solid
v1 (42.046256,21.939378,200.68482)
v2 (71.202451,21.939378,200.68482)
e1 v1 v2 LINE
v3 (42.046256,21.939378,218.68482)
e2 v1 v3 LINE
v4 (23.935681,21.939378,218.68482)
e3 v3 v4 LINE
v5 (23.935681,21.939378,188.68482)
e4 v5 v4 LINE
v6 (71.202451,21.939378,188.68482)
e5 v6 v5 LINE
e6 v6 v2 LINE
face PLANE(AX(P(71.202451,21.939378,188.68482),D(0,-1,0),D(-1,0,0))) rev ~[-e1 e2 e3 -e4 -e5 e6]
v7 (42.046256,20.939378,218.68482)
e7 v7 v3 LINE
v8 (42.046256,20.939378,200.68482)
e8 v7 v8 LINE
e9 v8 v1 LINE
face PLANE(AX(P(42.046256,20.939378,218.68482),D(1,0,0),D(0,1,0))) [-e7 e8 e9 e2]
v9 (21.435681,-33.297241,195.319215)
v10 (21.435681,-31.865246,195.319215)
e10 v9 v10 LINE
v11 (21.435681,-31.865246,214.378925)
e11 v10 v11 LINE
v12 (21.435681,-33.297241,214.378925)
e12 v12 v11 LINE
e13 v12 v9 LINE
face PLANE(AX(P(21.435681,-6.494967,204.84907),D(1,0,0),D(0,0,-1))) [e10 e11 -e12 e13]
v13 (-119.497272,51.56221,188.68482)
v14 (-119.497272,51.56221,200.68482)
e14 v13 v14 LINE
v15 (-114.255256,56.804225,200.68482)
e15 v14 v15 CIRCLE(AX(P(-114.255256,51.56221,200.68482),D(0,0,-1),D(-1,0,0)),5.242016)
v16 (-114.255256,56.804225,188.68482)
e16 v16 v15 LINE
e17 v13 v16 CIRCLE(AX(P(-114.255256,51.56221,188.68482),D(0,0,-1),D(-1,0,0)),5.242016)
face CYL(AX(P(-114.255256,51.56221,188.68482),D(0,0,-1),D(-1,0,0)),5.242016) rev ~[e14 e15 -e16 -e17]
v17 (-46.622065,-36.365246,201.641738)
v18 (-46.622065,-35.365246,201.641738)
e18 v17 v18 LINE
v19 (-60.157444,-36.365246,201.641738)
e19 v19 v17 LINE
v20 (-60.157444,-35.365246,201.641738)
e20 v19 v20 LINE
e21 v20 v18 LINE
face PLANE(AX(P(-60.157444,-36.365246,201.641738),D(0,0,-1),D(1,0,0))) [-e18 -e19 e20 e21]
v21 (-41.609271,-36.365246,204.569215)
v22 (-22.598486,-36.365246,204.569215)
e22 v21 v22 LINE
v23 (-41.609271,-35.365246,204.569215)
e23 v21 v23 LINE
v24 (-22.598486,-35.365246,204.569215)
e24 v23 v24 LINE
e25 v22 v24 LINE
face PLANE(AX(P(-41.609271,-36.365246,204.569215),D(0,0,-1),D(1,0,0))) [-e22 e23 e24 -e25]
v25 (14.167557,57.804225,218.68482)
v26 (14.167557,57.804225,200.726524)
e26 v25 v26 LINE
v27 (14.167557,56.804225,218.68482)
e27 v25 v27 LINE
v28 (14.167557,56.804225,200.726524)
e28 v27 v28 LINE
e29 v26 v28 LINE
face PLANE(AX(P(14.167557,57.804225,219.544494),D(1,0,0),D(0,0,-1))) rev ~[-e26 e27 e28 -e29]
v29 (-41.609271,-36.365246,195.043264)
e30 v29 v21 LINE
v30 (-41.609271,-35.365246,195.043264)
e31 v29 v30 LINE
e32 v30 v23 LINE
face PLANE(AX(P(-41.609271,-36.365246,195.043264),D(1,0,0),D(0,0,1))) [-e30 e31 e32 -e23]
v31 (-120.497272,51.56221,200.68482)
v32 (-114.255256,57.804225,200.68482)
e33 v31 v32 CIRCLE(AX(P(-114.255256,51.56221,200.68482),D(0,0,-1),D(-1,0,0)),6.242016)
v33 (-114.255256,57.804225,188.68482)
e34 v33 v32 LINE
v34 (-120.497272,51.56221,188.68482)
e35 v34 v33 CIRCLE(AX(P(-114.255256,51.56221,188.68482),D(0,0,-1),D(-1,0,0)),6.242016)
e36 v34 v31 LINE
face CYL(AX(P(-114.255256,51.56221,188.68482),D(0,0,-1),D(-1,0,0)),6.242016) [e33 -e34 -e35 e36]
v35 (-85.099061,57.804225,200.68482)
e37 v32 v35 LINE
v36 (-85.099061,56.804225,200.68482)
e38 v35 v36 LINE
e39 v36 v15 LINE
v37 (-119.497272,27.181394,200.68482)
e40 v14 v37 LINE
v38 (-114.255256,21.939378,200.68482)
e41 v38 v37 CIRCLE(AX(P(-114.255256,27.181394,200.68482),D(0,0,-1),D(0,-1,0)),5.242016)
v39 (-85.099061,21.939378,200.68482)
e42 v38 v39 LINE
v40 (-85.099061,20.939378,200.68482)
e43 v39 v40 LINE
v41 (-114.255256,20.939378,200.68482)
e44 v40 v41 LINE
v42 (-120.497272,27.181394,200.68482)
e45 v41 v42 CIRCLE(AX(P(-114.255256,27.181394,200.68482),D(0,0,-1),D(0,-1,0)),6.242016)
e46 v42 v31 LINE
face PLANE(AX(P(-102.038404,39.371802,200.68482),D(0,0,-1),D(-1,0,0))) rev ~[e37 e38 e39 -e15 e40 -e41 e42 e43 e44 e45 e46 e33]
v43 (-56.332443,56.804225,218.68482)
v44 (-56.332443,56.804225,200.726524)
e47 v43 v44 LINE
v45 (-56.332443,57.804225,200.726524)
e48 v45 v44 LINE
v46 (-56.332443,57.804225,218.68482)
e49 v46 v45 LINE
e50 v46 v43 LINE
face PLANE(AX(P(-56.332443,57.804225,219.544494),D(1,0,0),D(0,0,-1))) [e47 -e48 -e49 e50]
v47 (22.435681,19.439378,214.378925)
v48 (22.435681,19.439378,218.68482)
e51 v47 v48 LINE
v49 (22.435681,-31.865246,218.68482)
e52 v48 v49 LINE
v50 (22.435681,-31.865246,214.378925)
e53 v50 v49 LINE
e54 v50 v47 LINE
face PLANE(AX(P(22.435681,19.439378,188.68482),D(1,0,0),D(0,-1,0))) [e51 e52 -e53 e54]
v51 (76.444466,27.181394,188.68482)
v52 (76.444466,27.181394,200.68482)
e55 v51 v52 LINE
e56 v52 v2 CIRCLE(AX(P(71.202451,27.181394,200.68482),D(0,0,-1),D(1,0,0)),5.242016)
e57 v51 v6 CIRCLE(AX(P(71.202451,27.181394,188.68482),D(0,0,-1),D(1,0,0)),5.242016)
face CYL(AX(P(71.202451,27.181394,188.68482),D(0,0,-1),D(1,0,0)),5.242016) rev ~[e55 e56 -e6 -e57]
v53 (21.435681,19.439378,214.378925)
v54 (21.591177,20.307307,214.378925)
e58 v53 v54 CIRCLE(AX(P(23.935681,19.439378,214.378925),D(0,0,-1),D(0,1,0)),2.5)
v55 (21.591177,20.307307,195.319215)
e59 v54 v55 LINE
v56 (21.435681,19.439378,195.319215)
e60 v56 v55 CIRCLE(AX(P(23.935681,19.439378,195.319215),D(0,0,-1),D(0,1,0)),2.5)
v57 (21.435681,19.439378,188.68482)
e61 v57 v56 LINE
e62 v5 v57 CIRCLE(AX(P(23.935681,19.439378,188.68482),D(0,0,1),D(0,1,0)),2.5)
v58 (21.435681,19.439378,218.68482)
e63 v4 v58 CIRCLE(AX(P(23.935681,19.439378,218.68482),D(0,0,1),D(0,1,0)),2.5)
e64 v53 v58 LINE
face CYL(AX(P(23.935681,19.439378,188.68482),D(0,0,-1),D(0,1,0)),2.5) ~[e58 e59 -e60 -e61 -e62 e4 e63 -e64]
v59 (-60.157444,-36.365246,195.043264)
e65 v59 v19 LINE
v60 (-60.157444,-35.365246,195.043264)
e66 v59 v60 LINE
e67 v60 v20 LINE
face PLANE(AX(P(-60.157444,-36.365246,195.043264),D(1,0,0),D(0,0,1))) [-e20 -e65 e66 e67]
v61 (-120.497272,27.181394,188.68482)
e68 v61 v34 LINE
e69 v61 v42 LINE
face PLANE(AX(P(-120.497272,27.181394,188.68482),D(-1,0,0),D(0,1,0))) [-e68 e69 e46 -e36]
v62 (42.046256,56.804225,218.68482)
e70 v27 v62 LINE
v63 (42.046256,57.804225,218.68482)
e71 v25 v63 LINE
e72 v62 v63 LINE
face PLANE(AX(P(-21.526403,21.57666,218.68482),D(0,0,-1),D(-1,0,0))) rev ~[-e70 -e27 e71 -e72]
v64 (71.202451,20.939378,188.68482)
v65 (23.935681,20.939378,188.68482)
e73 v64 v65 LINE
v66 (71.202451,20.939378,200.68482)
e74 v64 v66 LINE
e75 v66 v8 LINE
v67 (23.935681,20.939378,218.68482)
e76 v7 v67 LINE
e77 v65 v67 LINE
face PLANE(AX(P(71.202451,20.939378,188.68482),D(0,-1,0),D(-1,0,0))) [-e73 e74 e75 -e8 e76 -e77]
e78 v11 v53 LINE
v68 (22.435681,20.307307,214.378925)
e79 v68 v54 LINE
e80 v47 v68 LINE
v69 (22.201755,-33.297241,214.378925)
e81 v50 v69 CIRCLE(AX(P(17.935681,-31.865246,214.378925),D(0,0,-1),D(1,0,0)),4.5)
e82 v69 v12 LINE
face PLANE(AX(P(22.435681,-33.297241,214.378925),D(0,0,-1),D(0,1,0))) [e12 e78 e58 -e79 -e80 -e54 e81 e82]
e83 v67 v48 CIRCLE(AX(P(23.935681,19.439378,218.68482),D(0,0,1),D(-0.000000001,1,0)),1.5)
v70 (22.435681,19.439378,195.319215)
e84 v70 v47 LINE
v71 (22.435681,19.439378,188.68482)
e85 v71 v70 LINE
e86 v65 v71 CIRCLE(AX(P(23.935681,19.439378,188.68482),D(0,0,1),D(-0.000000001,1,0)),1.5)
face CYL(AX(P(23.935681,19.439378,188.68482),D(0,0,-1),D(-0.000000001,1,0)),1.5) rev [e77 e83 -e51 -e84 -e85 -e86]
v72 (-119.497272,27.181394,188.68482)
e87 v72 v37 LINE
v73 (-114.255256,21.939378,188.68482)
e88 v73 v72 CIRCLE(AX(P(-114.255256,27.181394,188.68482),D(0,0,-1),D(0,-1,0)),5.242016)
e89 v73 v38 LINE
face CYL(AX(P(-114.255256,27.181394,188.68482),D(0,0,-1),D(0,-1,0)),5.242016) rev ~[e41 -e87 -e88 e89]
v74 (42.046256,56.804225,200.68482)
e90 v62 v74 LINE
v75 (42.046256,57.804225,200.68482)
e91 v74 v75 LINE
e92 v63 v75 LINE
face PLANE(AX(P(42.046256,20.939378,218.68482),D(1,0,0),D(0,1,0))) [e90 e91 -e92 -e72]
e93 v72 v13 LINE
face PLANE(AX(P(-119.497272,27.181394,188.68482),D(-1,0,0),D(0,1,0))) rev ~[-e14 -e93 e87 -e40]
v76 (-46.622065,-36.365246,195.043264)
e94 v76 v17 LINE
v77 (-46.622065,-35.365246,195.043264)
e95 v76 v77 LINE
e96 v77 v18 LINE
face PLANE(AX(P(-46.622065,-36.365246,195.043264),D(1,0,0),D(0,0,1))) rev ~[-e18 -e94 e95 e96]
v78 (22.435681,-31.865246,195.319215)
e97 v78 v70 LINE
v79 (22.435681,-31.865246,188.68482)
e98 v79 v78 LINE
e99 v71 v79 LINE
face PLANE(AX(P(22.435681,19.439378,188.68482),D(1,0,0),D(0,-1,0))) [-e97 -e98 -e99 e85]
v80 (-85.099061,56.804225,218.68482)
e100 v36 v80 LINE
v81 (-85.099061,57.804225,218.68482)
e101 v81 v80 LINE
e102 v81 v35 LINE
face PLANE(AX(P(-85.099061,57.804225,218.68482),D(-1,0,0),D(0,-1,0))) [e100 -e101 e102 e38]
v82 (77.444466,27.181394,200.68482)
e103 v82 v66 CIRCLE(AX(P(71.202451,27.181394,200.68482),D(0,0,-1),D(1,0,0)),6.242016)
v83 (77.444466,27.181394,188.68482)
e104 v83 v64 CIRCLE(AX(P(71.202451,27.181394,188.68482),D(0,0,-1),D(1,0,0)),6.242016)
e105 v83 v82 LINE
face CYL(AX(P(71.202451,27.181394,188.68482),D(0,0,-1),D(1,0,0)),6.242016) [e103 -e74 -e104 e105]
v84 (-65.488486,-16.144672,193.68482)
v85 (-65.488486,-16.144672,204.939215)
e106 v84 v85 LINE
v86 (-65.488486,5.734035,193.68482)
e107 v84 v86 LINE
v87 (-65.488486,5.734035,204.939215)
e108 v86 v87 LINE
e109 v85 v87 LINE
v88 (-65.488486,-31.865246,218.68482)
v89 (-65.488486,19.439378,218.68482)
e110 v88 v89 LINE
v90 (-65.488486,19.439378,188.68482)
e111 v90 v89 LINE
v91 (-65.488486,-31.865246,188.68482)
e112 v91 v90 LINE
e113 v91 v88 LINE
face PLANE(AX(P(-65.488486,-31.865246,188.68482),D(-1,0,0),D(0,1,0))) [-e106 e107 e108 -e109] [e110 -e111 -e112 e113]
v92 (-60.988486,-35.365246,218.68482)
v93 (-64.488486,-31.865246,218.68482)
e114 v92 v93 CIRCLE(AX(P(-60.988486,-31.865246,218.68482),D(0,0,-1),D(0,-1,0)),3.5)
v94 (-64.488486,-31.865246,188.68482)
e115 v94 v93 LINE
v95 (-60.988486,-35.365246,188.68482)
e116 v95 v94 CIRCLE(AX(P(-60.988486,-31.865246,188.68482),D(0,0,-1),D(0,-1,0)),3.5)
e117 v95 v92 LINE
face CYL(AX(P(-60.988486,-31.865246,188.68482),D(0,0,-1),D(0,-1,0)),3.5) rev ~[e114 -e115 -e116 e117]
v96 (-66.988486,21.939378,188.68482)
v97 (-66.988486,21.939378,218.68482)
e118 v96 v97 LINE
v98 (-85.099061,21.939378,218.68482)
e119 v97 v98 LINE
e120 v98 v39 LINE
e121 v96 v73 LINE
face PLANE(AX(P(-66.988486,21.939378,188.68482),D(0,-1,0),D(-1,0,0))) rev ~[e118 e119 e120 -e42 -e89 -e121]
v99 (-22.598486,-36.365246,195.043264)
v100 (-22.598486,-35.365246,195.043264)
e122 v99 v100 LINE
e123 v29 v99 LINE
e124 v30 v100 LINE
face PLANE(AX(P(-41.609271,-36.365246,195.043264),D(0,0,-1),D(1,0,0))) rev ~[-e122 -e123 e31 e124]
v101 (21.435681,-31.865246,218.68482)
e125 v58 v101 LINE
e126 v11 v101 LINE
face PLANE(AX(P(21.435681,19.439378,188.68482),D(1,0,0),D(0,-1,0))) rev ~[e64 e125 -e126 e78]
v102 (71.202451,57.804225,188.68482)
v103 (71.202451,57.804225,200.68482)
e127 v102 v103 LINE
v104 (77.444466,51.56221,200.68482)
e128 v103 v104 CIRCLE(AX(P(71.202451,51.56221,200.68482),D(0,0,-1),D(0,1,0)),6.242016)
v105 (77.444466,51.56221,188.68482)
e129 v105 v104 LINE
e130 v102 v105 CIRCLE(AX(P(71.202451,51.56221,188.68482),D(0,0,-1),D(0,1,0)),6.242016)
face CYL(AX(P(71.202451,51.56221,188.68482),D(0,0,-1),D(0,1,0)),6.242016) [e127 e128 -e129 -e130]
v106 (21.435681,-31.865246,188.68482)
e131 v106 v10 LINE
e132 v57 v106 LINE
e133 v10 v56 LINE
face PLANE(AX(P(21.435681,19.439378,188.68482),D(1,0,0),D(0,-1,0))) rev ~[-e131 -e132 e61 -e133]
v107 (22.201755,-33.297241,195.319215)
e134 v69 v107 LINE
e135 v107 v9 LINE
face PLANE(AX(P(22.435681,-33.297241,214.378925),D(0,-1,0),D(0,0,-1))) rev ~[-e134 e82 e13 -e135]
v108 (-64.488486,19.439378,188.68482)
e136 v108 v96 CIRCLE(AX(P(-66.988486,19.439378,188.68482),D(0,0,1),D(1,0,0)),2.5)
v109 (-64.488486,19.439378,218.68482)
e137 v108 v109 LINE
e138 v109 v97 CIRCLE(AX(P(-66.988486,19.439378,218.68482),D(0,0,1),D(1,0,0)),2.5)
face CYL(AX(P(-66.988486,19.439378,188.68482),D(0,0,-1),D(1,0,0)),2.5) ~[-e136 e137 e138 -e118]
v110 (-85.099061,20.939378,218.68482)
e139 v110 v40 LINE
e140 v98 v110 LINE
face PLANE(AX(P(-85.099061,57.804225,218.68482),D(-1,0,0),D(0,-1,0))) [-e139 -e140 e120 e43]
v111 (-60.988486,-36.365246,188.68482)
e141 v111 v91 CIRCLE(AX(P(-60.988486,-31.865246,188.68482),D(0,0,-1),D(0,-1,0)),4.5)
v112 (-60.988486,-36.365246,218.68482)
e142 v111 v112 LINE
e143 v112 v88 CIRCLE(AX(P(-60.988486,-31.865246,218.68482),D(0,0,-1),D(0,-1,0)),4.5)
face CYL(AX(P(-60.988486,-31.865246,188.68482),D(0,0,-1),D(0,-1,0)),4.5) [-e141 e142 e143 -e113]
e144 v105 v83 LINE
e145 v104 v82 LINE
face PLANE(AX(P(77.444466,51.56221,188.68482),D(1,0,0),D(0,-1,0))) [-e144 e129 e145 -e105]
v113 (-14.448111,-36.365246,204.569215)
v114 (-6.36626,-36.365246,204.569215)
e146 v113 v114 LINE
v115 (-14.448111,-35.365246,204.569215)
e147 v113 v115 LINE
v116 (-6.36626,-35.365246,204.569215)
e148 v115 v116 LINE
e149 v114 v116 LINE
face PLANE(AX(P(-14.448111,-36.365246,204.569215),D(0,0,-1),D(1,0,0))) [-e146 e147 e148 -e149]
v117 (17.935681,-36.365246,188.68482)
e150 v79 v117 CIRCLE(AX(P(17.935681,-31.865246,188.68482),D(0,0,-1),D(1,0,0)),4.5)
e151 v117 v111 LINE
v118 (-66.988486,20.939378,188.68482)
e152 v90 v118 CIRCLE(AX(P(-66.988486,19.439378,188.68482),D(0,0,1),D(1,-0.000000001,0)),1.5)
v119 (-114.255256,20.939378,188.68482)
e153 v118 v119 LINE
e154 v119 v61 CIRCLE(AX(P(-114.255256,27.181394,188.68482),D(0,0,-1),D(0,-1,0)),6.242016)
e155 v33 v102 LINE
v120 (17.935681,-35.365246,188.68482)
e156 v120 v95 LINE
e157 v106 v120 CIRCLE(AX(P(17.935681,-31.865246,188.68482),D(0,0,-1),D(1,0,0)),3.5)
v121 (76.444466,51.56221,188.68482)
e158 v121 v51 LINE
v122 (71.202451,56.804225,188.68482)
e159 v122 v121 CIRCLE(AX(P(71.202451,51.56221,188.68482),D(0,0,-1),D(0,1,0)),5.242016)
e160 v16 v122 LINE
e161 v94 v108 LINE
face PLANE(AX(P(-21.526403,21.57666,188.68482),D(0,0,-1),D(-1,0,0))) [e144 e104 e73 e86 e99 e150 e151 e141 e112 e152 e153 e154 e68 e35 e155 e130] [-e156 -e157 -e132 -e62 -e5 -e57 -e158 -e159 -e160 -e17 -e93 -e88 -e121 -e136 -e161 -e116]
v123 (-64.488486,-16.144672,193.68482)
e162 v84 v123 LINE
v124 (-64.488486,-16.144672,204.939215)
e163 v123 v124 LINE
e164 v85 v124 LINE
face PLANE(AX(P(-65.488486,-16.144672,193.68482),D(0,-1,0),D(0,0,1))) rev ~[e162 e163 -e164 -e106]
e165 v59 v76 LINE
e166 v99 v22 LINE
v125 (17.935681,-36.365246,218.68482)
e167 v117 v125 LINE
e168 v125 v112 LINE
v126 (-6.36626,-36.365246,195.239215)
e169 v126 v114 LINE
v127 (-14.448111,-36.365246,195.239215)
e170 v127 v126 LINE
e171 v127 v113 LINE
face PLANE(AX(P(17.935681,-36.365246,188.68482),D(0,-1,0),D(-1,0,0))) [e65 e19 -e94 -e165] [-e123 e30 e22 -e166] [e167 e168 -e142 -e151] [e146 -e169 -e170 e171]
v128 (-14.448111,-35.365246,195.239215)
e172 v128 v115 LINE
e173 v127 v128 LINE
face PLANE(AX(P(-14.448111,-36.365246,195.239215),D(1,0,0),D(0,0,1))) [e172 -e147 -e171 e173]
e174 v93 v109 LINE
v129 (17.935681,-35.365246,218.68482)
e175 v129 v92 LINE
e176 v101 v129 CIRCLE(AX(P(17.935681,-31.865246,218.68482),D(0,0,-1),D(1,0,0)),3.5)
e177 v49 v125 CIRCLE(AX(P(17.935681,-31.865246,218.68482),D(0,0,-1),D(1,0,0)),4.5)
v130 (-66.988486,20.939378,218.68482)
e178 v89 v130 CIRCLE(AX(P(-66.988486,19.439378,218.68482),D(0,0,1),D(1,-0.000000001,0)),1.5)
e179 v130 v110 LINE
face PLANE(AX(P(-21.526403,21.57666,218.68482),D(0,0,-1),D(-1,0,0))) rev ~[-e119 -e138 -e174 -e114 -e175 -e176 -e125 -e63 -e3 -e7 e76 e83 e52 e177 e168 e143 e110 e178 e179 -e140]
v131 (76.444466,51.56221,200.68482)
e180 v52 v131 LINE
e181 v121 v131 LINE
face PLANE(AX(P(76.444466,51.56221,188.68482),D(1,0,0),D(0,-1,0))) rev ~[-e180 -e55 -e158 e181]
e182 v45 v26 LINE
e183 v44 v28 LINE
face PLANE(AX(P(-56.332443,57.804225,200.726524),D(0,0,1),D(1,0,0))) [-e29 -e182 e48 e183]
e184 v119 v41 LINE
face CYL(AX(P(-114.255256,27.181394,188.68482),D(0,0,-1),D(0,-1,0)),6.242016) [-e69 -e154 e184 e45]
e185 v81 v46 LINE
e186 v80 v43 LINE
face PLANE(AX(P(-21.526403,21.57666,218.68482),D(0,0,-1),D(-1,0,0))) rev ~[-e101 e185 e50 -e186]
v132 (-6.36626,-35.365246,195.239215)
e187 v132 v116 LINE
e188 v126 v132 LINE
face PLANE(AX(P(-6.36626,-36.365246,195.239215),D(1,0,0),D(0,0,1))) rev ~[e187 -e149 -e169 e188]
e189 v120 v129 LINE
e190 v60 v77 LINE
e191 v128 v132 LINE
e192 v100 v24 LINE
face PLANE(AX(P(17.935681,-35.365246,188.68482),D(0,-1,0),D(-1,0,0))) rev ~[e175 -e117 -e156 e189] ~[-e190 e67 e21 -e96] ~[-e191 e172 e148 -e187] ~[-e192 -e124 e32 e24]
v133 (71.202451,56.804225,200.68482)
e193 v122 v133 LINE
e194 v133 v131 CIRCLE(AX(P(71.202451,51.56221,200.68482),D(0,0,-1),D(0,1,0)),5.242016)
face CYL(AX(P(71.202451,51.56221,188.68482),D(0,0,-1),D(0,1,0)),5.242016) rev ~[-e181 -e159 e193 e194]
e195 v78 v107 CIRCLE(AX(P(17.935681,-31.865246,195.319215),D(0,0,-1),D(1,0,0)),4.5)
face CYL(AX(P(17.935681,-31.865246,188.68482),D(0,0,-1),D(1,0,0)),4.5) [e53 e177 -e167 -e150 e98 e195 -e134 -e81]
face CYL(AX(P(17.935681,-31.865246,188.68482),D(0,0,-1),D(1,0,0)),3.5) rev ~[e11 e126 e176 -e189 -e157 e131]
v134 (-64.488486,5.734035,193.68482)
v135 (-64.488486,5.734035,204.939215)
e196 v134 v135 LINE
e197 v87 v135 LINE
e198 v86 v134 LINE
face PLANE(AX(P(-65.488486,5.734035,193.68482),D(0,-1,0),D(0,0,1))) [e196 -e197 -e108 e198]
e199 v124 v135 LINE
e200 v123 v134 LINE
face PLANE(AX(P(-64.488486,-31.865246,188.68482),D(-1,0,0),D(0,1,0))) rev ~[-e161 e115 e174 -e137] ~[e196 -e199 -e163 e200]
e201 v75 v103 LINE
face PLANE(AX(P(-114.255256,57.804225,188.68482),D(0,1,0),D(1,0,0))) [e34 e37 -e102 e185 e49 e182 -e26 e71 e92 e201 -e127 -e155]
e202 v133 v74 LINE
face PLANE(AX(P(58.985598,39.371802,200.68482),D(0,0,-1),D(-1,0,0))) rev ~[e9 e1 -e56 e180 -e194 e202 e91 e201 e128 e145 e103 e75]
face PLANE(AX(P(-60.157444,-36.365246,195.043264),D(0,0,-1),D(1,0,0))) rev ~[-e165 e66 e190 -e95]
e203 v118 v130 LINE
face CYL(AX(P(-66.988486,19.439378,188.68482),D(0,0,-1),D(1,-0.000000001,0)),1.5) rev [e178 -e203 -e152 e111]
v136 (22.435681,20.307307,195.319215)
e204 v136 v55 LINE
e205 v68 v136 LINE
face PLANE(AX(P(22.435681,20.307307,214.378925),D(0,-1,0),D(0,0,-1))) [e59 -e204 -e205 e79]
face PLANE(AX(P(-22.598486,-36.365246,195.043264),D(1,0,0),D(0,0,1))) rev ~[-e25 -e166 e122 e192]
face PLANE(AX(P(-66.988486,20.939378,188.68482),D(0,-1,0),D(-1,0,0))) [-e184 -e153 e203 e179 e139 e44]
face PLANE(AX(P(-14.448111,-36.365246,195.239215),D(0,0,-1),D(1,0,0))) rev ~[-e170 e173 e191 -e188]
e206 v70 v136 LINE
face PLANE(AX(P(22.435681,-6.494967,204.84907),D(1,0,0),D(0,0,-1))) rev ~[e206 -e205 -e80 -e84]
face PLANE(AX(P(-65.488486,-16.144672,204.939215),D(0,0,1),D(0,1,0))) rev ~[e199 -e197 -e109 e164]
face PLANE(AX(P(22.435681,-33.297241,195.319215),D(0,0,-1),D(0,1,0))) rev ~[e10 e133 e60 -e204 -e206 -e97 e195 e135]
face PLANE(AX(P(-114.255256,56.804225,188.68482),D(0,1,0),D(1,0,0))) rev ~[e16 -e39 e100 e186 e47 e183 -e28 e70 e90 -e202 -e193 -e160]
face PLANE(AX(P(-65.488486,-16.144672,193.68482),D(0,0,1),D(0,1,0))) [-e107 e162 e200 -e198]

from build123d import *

# Parameters (mm, degrees)
AUFSATZ_LINEAR_AUSTRAGEN1_DEPTH = 30
SKIZZE4_W                       = 19.059709953
SKIZZE4_H                       = 53.604548155
SCHNITT_LINEAR_AUSTRAGEN1_DEPTH = 1
SKIZZE5_W                       = 13.535379209
SKIZZE5_H                       = 6.598473738
SKIZZE5_W_2                     = 19.010784176
SKIZZE5_H_2                     = 9.525951679
SKIZZE5_W_3                     = 8.081851555
SKIZZE5_H_3                     = 9.33
SCHNITT_LINEAR_AUSTRAGEN2_DEPTH = 1
SKIZZE6_W                       = 11.254395851
SKIZZE6_H                       = 21.878706828
SCHNITT_LINEAR_AUSTRAGEN3_DEPTH = 1
SKIZZE8_W                       = 70.5
SKIZZE8_H                       = 18.817969375
SCHNITT_LINEAR_AUSTRAGEN4_DEPTH = 1
SCHNITT_LINEAR_AUSTRAGEN5_DEPTH = 18


with BuildPart() as part:
    # Skizze2 → Aufsatz-Linear austragen1 (new body)
    with BuildSketch(Plane(origin=(0, 0, 188.684819625), x_dir=(-1, 0, 0), z_dir=(0, 0, -1))):
        with BuildLine():
            Line((114.255256192, 57.804225359), (-71.202450647, 57.804225359))
            ThreePointArc((-71.202450647, 57.804225359), (-75.616222333, 55.975981265), (-77.444466427, 51.562209578))
            Line((-77.444466427, 51.562209578), (-77.444466427, 27.181394091))
            ThreePointArc((-77.444466427, 27.181394091), (-75.616222333, 22.767622404), (-71.202450647, 20.93937831))
            Line((-71.202450647, 20.93937831), (-23.9356809, 20.93937831))
            ThreePointArc((-23.9356809, 20.93937831), (-22.875020729, 20.500038482), (-22.4356809, 19.43937831))
            Line((-22.4356809, 19.43937831), (-22.4356809, -31.865246208))
            ThreePointArc((-22.4356809, -31.865246208), (-21.117661416, -35.047226723), (-17.9356809, -36.365246208))
            Line((-17.9356809, -36.365246208), (60.988486446, -36.365246208))
            ThreePointArc((60.988486446, -36.365246208), (64.170466961, -35.047226723), (65.488486446, -31.865246208))
            Line((65.488486446, -31.865246208), (65.488486446, 19.43937831))
            ThreePointArc((65.488486446, 19.43937831), (65.927826274, 20.500038482), (66.988486446, 20.93937831))
            Line((66.988486446, 20.93937831), (114.255256192, 20.93937831))
            ThreePointArc((114.255256192, 20.93937831), (118.669027879, 22.767622404), (120.497271973, 27.181394091))
            Line((120.497271973, 27.181394091), (120.497271973, 51.562209578))
            ThreePointArc((120.497271973, 51.562209578), (118.669027879, 55.975981265), (114.255256192, 57.804225359))
        make_face()
        with BuildLine():
            Line((114.255256192, 56.804225359), (-71.202450647, 56.804225359))
            ThreePointArc((-71.202450647, 56.804225359), (-74.909115552, 55.268874484), (-76.444466427, 51.562209578))
            Line((-76.444466427, 51.562209578), (-76.444466427, 27.181394091))
            ThreePointArc((-76.444466427, 27.181394091), (-74.909115552, 23.474729185), (-71.202450647, 21.93937831))
            Line((-71.202450647, 21.93937831), (-23.9356809, 21.93937831))
            ThreePointArc((-23.9356809, 21.93937831), (-22.167913947, 21.207145263), (-21.4356809, 19.43937831))
            Line((-21.4356809, 19.43937831), (-21.4356809, -31.865246208))
            ThreePointArc((-21.4356809, -31.865246208), (-20.410554634, -34.340119942), (-17.9356809, -35.365246208))
            Line((-17.9356809, -35.365246208), (60.988486446, -35.365246208))
            ThreePointArc((60.988486446, -35.365246208), (63.46336018, -34.340119942), (64.488486446, -31.865246208))
            Line((64.488486446, -31.865246208), (64.488486446, 19.43937831))
            ThreePointArc((64.488486446, 19.43937831), (65.220719493, 21.207145263), (66.988486446, 21.93937831))
            Line((66.988486446, 21.93937831), (114.255256192, 21.93937831))
            ThreePointArc((114.255256192, 21.93937831), (117.961921098, 23.474729185), (119.497271973, 27.181394091))
            Line((119.497271973, 27.181394091), (119.497271973, 51.562209578))
            ThreePointArc((119.497271973, 51.562209578), (117.961921098, 55.268874484), (114.255256192, 56.804225359))
        make_face(mode=Mode.SUBTRACT)
    extrude(amount=-AUFSATZ_LINEAR_AUSTRAGEN1_DEPTH)

    # Skizze4 → Schnitt-Linear austragen1 (cut)
    with BuildSketch(Plane(origin=(22.4356809, 0, 0), x_dir=(0, 0, -1), z_dir=(1, 0, 0))):
        with Locations((-204.849070455, -6.494967379)):
            Rectangle(SKIZZE4_W, SKIZZE4_H)
    extrude(amount=-SCHNITT_LINEAR_AUSTRAGEN1_DEPTH, mode=Mode.SUBTRACT)

    # Skizze5 → Schnitt-Linear austragen2 (cut)
    with BuildSketch(Plane.XZ.offset(36.365246208)):
        with Locations((-53.389754229, 198.342500668)):
            Rectangle(SKIZZE5_W, SKIZZE5_H)
        with Locations((-32.103878534, 199.806239639)):
            Rectangle(SKIZZE5_W_2, SKIZZE5_H_2)
        with Locations((-10.407185504, 199.904215478)):
            Rectangle(SKIZZE5_W_3, SKIZZE5_H_3)
    extrude(amount=-SCHNITT_LINEAR_AUSTRAGEN2_DEPTH, mode=Mode.SUBTRACT)

    # Skizze6 → Schnitt-Linear austragen3 (cut)
    with BuildSketch(Plane.ZY.offset(65.488486446)):
        with Locations((199.312017551, -5.205318356)):
            Rectangle(SKIZZE6_W, SKIZZE6_H)
    extrude(amount=-SCHNITT_LINEAR_AUSTRAGEN3_DEPTH, mode=Mode.SUBTRACT)

    # Skizze8 → Schnitt-Linear austragen4 (cut)
    with BuildSketch(Plane(origin=(0, 57.804225359, 0), x_dir=(1, 0, 0), z_dir=(0, 1, 0))):
        with Locations((-21.082442705, -210.135508824)):
            Rectangle(SKIZZE8_W, SKIZZE8_H)
    extrude(amount=-SCHNITT_LINEAR_AUSTRAGEN4_DEPTH, mode=Mode.SUBTRACT)

    # Skizze9 → Schnitt-Linear austragen5 (cut)
    with BuildSketch(Plane.XY.offset(218.684819625)):
        with BuildLine():
            Line((77.444466427, 51.562209578), (77.444466427, 27.181394091))
            ThreePointArc((77.444466427, 27.181394091), (75.616222333, 22.767622404), (71.202450647, 20.93937831))
            Line((71.202450647, 20.93937831), (42.046255802, 20.93937831))
            Line((42.046255802, 20.93937831), (42.046255802, 57.804225359))
            Line((42.046255802, 57.804225359), (71.202450647, 57.804225359))
            ThreePointArc((71.202450647, 57.804225359), (75.616222333, 55.975981265), (77.444466427, 51.562209578))
        make_face()
        with BuildLine():
            Line((-85.099061347, 57.804225359), (-85.099061347, 20.93937831))
            Line((-85.099061347, 20.93937831), (-114.255256192, 20.93937831))
            ThreePointArc((-114.255256192, 20.93937831), (-118.669027879, 22.767622404), (-120.497271973, 27.181394091))
            Line((-120.497271973, 27.181394091), (-120.497271973, 51.562209578))
            ThreePointArc((-120.497271973, 51.562209578), (-118.669027879, 55.975981265), (-114.255256192, 57.804225359))
            Line((-114.255256192, 57.804225359), (-85.099061347, 57.804225359))
        make_face()
    extrude(amount=-SCHNITT_LINEAR_AUSTRAGEN5_DEPTH, mode=Mode.SUBTRACT)


solid = part.part
